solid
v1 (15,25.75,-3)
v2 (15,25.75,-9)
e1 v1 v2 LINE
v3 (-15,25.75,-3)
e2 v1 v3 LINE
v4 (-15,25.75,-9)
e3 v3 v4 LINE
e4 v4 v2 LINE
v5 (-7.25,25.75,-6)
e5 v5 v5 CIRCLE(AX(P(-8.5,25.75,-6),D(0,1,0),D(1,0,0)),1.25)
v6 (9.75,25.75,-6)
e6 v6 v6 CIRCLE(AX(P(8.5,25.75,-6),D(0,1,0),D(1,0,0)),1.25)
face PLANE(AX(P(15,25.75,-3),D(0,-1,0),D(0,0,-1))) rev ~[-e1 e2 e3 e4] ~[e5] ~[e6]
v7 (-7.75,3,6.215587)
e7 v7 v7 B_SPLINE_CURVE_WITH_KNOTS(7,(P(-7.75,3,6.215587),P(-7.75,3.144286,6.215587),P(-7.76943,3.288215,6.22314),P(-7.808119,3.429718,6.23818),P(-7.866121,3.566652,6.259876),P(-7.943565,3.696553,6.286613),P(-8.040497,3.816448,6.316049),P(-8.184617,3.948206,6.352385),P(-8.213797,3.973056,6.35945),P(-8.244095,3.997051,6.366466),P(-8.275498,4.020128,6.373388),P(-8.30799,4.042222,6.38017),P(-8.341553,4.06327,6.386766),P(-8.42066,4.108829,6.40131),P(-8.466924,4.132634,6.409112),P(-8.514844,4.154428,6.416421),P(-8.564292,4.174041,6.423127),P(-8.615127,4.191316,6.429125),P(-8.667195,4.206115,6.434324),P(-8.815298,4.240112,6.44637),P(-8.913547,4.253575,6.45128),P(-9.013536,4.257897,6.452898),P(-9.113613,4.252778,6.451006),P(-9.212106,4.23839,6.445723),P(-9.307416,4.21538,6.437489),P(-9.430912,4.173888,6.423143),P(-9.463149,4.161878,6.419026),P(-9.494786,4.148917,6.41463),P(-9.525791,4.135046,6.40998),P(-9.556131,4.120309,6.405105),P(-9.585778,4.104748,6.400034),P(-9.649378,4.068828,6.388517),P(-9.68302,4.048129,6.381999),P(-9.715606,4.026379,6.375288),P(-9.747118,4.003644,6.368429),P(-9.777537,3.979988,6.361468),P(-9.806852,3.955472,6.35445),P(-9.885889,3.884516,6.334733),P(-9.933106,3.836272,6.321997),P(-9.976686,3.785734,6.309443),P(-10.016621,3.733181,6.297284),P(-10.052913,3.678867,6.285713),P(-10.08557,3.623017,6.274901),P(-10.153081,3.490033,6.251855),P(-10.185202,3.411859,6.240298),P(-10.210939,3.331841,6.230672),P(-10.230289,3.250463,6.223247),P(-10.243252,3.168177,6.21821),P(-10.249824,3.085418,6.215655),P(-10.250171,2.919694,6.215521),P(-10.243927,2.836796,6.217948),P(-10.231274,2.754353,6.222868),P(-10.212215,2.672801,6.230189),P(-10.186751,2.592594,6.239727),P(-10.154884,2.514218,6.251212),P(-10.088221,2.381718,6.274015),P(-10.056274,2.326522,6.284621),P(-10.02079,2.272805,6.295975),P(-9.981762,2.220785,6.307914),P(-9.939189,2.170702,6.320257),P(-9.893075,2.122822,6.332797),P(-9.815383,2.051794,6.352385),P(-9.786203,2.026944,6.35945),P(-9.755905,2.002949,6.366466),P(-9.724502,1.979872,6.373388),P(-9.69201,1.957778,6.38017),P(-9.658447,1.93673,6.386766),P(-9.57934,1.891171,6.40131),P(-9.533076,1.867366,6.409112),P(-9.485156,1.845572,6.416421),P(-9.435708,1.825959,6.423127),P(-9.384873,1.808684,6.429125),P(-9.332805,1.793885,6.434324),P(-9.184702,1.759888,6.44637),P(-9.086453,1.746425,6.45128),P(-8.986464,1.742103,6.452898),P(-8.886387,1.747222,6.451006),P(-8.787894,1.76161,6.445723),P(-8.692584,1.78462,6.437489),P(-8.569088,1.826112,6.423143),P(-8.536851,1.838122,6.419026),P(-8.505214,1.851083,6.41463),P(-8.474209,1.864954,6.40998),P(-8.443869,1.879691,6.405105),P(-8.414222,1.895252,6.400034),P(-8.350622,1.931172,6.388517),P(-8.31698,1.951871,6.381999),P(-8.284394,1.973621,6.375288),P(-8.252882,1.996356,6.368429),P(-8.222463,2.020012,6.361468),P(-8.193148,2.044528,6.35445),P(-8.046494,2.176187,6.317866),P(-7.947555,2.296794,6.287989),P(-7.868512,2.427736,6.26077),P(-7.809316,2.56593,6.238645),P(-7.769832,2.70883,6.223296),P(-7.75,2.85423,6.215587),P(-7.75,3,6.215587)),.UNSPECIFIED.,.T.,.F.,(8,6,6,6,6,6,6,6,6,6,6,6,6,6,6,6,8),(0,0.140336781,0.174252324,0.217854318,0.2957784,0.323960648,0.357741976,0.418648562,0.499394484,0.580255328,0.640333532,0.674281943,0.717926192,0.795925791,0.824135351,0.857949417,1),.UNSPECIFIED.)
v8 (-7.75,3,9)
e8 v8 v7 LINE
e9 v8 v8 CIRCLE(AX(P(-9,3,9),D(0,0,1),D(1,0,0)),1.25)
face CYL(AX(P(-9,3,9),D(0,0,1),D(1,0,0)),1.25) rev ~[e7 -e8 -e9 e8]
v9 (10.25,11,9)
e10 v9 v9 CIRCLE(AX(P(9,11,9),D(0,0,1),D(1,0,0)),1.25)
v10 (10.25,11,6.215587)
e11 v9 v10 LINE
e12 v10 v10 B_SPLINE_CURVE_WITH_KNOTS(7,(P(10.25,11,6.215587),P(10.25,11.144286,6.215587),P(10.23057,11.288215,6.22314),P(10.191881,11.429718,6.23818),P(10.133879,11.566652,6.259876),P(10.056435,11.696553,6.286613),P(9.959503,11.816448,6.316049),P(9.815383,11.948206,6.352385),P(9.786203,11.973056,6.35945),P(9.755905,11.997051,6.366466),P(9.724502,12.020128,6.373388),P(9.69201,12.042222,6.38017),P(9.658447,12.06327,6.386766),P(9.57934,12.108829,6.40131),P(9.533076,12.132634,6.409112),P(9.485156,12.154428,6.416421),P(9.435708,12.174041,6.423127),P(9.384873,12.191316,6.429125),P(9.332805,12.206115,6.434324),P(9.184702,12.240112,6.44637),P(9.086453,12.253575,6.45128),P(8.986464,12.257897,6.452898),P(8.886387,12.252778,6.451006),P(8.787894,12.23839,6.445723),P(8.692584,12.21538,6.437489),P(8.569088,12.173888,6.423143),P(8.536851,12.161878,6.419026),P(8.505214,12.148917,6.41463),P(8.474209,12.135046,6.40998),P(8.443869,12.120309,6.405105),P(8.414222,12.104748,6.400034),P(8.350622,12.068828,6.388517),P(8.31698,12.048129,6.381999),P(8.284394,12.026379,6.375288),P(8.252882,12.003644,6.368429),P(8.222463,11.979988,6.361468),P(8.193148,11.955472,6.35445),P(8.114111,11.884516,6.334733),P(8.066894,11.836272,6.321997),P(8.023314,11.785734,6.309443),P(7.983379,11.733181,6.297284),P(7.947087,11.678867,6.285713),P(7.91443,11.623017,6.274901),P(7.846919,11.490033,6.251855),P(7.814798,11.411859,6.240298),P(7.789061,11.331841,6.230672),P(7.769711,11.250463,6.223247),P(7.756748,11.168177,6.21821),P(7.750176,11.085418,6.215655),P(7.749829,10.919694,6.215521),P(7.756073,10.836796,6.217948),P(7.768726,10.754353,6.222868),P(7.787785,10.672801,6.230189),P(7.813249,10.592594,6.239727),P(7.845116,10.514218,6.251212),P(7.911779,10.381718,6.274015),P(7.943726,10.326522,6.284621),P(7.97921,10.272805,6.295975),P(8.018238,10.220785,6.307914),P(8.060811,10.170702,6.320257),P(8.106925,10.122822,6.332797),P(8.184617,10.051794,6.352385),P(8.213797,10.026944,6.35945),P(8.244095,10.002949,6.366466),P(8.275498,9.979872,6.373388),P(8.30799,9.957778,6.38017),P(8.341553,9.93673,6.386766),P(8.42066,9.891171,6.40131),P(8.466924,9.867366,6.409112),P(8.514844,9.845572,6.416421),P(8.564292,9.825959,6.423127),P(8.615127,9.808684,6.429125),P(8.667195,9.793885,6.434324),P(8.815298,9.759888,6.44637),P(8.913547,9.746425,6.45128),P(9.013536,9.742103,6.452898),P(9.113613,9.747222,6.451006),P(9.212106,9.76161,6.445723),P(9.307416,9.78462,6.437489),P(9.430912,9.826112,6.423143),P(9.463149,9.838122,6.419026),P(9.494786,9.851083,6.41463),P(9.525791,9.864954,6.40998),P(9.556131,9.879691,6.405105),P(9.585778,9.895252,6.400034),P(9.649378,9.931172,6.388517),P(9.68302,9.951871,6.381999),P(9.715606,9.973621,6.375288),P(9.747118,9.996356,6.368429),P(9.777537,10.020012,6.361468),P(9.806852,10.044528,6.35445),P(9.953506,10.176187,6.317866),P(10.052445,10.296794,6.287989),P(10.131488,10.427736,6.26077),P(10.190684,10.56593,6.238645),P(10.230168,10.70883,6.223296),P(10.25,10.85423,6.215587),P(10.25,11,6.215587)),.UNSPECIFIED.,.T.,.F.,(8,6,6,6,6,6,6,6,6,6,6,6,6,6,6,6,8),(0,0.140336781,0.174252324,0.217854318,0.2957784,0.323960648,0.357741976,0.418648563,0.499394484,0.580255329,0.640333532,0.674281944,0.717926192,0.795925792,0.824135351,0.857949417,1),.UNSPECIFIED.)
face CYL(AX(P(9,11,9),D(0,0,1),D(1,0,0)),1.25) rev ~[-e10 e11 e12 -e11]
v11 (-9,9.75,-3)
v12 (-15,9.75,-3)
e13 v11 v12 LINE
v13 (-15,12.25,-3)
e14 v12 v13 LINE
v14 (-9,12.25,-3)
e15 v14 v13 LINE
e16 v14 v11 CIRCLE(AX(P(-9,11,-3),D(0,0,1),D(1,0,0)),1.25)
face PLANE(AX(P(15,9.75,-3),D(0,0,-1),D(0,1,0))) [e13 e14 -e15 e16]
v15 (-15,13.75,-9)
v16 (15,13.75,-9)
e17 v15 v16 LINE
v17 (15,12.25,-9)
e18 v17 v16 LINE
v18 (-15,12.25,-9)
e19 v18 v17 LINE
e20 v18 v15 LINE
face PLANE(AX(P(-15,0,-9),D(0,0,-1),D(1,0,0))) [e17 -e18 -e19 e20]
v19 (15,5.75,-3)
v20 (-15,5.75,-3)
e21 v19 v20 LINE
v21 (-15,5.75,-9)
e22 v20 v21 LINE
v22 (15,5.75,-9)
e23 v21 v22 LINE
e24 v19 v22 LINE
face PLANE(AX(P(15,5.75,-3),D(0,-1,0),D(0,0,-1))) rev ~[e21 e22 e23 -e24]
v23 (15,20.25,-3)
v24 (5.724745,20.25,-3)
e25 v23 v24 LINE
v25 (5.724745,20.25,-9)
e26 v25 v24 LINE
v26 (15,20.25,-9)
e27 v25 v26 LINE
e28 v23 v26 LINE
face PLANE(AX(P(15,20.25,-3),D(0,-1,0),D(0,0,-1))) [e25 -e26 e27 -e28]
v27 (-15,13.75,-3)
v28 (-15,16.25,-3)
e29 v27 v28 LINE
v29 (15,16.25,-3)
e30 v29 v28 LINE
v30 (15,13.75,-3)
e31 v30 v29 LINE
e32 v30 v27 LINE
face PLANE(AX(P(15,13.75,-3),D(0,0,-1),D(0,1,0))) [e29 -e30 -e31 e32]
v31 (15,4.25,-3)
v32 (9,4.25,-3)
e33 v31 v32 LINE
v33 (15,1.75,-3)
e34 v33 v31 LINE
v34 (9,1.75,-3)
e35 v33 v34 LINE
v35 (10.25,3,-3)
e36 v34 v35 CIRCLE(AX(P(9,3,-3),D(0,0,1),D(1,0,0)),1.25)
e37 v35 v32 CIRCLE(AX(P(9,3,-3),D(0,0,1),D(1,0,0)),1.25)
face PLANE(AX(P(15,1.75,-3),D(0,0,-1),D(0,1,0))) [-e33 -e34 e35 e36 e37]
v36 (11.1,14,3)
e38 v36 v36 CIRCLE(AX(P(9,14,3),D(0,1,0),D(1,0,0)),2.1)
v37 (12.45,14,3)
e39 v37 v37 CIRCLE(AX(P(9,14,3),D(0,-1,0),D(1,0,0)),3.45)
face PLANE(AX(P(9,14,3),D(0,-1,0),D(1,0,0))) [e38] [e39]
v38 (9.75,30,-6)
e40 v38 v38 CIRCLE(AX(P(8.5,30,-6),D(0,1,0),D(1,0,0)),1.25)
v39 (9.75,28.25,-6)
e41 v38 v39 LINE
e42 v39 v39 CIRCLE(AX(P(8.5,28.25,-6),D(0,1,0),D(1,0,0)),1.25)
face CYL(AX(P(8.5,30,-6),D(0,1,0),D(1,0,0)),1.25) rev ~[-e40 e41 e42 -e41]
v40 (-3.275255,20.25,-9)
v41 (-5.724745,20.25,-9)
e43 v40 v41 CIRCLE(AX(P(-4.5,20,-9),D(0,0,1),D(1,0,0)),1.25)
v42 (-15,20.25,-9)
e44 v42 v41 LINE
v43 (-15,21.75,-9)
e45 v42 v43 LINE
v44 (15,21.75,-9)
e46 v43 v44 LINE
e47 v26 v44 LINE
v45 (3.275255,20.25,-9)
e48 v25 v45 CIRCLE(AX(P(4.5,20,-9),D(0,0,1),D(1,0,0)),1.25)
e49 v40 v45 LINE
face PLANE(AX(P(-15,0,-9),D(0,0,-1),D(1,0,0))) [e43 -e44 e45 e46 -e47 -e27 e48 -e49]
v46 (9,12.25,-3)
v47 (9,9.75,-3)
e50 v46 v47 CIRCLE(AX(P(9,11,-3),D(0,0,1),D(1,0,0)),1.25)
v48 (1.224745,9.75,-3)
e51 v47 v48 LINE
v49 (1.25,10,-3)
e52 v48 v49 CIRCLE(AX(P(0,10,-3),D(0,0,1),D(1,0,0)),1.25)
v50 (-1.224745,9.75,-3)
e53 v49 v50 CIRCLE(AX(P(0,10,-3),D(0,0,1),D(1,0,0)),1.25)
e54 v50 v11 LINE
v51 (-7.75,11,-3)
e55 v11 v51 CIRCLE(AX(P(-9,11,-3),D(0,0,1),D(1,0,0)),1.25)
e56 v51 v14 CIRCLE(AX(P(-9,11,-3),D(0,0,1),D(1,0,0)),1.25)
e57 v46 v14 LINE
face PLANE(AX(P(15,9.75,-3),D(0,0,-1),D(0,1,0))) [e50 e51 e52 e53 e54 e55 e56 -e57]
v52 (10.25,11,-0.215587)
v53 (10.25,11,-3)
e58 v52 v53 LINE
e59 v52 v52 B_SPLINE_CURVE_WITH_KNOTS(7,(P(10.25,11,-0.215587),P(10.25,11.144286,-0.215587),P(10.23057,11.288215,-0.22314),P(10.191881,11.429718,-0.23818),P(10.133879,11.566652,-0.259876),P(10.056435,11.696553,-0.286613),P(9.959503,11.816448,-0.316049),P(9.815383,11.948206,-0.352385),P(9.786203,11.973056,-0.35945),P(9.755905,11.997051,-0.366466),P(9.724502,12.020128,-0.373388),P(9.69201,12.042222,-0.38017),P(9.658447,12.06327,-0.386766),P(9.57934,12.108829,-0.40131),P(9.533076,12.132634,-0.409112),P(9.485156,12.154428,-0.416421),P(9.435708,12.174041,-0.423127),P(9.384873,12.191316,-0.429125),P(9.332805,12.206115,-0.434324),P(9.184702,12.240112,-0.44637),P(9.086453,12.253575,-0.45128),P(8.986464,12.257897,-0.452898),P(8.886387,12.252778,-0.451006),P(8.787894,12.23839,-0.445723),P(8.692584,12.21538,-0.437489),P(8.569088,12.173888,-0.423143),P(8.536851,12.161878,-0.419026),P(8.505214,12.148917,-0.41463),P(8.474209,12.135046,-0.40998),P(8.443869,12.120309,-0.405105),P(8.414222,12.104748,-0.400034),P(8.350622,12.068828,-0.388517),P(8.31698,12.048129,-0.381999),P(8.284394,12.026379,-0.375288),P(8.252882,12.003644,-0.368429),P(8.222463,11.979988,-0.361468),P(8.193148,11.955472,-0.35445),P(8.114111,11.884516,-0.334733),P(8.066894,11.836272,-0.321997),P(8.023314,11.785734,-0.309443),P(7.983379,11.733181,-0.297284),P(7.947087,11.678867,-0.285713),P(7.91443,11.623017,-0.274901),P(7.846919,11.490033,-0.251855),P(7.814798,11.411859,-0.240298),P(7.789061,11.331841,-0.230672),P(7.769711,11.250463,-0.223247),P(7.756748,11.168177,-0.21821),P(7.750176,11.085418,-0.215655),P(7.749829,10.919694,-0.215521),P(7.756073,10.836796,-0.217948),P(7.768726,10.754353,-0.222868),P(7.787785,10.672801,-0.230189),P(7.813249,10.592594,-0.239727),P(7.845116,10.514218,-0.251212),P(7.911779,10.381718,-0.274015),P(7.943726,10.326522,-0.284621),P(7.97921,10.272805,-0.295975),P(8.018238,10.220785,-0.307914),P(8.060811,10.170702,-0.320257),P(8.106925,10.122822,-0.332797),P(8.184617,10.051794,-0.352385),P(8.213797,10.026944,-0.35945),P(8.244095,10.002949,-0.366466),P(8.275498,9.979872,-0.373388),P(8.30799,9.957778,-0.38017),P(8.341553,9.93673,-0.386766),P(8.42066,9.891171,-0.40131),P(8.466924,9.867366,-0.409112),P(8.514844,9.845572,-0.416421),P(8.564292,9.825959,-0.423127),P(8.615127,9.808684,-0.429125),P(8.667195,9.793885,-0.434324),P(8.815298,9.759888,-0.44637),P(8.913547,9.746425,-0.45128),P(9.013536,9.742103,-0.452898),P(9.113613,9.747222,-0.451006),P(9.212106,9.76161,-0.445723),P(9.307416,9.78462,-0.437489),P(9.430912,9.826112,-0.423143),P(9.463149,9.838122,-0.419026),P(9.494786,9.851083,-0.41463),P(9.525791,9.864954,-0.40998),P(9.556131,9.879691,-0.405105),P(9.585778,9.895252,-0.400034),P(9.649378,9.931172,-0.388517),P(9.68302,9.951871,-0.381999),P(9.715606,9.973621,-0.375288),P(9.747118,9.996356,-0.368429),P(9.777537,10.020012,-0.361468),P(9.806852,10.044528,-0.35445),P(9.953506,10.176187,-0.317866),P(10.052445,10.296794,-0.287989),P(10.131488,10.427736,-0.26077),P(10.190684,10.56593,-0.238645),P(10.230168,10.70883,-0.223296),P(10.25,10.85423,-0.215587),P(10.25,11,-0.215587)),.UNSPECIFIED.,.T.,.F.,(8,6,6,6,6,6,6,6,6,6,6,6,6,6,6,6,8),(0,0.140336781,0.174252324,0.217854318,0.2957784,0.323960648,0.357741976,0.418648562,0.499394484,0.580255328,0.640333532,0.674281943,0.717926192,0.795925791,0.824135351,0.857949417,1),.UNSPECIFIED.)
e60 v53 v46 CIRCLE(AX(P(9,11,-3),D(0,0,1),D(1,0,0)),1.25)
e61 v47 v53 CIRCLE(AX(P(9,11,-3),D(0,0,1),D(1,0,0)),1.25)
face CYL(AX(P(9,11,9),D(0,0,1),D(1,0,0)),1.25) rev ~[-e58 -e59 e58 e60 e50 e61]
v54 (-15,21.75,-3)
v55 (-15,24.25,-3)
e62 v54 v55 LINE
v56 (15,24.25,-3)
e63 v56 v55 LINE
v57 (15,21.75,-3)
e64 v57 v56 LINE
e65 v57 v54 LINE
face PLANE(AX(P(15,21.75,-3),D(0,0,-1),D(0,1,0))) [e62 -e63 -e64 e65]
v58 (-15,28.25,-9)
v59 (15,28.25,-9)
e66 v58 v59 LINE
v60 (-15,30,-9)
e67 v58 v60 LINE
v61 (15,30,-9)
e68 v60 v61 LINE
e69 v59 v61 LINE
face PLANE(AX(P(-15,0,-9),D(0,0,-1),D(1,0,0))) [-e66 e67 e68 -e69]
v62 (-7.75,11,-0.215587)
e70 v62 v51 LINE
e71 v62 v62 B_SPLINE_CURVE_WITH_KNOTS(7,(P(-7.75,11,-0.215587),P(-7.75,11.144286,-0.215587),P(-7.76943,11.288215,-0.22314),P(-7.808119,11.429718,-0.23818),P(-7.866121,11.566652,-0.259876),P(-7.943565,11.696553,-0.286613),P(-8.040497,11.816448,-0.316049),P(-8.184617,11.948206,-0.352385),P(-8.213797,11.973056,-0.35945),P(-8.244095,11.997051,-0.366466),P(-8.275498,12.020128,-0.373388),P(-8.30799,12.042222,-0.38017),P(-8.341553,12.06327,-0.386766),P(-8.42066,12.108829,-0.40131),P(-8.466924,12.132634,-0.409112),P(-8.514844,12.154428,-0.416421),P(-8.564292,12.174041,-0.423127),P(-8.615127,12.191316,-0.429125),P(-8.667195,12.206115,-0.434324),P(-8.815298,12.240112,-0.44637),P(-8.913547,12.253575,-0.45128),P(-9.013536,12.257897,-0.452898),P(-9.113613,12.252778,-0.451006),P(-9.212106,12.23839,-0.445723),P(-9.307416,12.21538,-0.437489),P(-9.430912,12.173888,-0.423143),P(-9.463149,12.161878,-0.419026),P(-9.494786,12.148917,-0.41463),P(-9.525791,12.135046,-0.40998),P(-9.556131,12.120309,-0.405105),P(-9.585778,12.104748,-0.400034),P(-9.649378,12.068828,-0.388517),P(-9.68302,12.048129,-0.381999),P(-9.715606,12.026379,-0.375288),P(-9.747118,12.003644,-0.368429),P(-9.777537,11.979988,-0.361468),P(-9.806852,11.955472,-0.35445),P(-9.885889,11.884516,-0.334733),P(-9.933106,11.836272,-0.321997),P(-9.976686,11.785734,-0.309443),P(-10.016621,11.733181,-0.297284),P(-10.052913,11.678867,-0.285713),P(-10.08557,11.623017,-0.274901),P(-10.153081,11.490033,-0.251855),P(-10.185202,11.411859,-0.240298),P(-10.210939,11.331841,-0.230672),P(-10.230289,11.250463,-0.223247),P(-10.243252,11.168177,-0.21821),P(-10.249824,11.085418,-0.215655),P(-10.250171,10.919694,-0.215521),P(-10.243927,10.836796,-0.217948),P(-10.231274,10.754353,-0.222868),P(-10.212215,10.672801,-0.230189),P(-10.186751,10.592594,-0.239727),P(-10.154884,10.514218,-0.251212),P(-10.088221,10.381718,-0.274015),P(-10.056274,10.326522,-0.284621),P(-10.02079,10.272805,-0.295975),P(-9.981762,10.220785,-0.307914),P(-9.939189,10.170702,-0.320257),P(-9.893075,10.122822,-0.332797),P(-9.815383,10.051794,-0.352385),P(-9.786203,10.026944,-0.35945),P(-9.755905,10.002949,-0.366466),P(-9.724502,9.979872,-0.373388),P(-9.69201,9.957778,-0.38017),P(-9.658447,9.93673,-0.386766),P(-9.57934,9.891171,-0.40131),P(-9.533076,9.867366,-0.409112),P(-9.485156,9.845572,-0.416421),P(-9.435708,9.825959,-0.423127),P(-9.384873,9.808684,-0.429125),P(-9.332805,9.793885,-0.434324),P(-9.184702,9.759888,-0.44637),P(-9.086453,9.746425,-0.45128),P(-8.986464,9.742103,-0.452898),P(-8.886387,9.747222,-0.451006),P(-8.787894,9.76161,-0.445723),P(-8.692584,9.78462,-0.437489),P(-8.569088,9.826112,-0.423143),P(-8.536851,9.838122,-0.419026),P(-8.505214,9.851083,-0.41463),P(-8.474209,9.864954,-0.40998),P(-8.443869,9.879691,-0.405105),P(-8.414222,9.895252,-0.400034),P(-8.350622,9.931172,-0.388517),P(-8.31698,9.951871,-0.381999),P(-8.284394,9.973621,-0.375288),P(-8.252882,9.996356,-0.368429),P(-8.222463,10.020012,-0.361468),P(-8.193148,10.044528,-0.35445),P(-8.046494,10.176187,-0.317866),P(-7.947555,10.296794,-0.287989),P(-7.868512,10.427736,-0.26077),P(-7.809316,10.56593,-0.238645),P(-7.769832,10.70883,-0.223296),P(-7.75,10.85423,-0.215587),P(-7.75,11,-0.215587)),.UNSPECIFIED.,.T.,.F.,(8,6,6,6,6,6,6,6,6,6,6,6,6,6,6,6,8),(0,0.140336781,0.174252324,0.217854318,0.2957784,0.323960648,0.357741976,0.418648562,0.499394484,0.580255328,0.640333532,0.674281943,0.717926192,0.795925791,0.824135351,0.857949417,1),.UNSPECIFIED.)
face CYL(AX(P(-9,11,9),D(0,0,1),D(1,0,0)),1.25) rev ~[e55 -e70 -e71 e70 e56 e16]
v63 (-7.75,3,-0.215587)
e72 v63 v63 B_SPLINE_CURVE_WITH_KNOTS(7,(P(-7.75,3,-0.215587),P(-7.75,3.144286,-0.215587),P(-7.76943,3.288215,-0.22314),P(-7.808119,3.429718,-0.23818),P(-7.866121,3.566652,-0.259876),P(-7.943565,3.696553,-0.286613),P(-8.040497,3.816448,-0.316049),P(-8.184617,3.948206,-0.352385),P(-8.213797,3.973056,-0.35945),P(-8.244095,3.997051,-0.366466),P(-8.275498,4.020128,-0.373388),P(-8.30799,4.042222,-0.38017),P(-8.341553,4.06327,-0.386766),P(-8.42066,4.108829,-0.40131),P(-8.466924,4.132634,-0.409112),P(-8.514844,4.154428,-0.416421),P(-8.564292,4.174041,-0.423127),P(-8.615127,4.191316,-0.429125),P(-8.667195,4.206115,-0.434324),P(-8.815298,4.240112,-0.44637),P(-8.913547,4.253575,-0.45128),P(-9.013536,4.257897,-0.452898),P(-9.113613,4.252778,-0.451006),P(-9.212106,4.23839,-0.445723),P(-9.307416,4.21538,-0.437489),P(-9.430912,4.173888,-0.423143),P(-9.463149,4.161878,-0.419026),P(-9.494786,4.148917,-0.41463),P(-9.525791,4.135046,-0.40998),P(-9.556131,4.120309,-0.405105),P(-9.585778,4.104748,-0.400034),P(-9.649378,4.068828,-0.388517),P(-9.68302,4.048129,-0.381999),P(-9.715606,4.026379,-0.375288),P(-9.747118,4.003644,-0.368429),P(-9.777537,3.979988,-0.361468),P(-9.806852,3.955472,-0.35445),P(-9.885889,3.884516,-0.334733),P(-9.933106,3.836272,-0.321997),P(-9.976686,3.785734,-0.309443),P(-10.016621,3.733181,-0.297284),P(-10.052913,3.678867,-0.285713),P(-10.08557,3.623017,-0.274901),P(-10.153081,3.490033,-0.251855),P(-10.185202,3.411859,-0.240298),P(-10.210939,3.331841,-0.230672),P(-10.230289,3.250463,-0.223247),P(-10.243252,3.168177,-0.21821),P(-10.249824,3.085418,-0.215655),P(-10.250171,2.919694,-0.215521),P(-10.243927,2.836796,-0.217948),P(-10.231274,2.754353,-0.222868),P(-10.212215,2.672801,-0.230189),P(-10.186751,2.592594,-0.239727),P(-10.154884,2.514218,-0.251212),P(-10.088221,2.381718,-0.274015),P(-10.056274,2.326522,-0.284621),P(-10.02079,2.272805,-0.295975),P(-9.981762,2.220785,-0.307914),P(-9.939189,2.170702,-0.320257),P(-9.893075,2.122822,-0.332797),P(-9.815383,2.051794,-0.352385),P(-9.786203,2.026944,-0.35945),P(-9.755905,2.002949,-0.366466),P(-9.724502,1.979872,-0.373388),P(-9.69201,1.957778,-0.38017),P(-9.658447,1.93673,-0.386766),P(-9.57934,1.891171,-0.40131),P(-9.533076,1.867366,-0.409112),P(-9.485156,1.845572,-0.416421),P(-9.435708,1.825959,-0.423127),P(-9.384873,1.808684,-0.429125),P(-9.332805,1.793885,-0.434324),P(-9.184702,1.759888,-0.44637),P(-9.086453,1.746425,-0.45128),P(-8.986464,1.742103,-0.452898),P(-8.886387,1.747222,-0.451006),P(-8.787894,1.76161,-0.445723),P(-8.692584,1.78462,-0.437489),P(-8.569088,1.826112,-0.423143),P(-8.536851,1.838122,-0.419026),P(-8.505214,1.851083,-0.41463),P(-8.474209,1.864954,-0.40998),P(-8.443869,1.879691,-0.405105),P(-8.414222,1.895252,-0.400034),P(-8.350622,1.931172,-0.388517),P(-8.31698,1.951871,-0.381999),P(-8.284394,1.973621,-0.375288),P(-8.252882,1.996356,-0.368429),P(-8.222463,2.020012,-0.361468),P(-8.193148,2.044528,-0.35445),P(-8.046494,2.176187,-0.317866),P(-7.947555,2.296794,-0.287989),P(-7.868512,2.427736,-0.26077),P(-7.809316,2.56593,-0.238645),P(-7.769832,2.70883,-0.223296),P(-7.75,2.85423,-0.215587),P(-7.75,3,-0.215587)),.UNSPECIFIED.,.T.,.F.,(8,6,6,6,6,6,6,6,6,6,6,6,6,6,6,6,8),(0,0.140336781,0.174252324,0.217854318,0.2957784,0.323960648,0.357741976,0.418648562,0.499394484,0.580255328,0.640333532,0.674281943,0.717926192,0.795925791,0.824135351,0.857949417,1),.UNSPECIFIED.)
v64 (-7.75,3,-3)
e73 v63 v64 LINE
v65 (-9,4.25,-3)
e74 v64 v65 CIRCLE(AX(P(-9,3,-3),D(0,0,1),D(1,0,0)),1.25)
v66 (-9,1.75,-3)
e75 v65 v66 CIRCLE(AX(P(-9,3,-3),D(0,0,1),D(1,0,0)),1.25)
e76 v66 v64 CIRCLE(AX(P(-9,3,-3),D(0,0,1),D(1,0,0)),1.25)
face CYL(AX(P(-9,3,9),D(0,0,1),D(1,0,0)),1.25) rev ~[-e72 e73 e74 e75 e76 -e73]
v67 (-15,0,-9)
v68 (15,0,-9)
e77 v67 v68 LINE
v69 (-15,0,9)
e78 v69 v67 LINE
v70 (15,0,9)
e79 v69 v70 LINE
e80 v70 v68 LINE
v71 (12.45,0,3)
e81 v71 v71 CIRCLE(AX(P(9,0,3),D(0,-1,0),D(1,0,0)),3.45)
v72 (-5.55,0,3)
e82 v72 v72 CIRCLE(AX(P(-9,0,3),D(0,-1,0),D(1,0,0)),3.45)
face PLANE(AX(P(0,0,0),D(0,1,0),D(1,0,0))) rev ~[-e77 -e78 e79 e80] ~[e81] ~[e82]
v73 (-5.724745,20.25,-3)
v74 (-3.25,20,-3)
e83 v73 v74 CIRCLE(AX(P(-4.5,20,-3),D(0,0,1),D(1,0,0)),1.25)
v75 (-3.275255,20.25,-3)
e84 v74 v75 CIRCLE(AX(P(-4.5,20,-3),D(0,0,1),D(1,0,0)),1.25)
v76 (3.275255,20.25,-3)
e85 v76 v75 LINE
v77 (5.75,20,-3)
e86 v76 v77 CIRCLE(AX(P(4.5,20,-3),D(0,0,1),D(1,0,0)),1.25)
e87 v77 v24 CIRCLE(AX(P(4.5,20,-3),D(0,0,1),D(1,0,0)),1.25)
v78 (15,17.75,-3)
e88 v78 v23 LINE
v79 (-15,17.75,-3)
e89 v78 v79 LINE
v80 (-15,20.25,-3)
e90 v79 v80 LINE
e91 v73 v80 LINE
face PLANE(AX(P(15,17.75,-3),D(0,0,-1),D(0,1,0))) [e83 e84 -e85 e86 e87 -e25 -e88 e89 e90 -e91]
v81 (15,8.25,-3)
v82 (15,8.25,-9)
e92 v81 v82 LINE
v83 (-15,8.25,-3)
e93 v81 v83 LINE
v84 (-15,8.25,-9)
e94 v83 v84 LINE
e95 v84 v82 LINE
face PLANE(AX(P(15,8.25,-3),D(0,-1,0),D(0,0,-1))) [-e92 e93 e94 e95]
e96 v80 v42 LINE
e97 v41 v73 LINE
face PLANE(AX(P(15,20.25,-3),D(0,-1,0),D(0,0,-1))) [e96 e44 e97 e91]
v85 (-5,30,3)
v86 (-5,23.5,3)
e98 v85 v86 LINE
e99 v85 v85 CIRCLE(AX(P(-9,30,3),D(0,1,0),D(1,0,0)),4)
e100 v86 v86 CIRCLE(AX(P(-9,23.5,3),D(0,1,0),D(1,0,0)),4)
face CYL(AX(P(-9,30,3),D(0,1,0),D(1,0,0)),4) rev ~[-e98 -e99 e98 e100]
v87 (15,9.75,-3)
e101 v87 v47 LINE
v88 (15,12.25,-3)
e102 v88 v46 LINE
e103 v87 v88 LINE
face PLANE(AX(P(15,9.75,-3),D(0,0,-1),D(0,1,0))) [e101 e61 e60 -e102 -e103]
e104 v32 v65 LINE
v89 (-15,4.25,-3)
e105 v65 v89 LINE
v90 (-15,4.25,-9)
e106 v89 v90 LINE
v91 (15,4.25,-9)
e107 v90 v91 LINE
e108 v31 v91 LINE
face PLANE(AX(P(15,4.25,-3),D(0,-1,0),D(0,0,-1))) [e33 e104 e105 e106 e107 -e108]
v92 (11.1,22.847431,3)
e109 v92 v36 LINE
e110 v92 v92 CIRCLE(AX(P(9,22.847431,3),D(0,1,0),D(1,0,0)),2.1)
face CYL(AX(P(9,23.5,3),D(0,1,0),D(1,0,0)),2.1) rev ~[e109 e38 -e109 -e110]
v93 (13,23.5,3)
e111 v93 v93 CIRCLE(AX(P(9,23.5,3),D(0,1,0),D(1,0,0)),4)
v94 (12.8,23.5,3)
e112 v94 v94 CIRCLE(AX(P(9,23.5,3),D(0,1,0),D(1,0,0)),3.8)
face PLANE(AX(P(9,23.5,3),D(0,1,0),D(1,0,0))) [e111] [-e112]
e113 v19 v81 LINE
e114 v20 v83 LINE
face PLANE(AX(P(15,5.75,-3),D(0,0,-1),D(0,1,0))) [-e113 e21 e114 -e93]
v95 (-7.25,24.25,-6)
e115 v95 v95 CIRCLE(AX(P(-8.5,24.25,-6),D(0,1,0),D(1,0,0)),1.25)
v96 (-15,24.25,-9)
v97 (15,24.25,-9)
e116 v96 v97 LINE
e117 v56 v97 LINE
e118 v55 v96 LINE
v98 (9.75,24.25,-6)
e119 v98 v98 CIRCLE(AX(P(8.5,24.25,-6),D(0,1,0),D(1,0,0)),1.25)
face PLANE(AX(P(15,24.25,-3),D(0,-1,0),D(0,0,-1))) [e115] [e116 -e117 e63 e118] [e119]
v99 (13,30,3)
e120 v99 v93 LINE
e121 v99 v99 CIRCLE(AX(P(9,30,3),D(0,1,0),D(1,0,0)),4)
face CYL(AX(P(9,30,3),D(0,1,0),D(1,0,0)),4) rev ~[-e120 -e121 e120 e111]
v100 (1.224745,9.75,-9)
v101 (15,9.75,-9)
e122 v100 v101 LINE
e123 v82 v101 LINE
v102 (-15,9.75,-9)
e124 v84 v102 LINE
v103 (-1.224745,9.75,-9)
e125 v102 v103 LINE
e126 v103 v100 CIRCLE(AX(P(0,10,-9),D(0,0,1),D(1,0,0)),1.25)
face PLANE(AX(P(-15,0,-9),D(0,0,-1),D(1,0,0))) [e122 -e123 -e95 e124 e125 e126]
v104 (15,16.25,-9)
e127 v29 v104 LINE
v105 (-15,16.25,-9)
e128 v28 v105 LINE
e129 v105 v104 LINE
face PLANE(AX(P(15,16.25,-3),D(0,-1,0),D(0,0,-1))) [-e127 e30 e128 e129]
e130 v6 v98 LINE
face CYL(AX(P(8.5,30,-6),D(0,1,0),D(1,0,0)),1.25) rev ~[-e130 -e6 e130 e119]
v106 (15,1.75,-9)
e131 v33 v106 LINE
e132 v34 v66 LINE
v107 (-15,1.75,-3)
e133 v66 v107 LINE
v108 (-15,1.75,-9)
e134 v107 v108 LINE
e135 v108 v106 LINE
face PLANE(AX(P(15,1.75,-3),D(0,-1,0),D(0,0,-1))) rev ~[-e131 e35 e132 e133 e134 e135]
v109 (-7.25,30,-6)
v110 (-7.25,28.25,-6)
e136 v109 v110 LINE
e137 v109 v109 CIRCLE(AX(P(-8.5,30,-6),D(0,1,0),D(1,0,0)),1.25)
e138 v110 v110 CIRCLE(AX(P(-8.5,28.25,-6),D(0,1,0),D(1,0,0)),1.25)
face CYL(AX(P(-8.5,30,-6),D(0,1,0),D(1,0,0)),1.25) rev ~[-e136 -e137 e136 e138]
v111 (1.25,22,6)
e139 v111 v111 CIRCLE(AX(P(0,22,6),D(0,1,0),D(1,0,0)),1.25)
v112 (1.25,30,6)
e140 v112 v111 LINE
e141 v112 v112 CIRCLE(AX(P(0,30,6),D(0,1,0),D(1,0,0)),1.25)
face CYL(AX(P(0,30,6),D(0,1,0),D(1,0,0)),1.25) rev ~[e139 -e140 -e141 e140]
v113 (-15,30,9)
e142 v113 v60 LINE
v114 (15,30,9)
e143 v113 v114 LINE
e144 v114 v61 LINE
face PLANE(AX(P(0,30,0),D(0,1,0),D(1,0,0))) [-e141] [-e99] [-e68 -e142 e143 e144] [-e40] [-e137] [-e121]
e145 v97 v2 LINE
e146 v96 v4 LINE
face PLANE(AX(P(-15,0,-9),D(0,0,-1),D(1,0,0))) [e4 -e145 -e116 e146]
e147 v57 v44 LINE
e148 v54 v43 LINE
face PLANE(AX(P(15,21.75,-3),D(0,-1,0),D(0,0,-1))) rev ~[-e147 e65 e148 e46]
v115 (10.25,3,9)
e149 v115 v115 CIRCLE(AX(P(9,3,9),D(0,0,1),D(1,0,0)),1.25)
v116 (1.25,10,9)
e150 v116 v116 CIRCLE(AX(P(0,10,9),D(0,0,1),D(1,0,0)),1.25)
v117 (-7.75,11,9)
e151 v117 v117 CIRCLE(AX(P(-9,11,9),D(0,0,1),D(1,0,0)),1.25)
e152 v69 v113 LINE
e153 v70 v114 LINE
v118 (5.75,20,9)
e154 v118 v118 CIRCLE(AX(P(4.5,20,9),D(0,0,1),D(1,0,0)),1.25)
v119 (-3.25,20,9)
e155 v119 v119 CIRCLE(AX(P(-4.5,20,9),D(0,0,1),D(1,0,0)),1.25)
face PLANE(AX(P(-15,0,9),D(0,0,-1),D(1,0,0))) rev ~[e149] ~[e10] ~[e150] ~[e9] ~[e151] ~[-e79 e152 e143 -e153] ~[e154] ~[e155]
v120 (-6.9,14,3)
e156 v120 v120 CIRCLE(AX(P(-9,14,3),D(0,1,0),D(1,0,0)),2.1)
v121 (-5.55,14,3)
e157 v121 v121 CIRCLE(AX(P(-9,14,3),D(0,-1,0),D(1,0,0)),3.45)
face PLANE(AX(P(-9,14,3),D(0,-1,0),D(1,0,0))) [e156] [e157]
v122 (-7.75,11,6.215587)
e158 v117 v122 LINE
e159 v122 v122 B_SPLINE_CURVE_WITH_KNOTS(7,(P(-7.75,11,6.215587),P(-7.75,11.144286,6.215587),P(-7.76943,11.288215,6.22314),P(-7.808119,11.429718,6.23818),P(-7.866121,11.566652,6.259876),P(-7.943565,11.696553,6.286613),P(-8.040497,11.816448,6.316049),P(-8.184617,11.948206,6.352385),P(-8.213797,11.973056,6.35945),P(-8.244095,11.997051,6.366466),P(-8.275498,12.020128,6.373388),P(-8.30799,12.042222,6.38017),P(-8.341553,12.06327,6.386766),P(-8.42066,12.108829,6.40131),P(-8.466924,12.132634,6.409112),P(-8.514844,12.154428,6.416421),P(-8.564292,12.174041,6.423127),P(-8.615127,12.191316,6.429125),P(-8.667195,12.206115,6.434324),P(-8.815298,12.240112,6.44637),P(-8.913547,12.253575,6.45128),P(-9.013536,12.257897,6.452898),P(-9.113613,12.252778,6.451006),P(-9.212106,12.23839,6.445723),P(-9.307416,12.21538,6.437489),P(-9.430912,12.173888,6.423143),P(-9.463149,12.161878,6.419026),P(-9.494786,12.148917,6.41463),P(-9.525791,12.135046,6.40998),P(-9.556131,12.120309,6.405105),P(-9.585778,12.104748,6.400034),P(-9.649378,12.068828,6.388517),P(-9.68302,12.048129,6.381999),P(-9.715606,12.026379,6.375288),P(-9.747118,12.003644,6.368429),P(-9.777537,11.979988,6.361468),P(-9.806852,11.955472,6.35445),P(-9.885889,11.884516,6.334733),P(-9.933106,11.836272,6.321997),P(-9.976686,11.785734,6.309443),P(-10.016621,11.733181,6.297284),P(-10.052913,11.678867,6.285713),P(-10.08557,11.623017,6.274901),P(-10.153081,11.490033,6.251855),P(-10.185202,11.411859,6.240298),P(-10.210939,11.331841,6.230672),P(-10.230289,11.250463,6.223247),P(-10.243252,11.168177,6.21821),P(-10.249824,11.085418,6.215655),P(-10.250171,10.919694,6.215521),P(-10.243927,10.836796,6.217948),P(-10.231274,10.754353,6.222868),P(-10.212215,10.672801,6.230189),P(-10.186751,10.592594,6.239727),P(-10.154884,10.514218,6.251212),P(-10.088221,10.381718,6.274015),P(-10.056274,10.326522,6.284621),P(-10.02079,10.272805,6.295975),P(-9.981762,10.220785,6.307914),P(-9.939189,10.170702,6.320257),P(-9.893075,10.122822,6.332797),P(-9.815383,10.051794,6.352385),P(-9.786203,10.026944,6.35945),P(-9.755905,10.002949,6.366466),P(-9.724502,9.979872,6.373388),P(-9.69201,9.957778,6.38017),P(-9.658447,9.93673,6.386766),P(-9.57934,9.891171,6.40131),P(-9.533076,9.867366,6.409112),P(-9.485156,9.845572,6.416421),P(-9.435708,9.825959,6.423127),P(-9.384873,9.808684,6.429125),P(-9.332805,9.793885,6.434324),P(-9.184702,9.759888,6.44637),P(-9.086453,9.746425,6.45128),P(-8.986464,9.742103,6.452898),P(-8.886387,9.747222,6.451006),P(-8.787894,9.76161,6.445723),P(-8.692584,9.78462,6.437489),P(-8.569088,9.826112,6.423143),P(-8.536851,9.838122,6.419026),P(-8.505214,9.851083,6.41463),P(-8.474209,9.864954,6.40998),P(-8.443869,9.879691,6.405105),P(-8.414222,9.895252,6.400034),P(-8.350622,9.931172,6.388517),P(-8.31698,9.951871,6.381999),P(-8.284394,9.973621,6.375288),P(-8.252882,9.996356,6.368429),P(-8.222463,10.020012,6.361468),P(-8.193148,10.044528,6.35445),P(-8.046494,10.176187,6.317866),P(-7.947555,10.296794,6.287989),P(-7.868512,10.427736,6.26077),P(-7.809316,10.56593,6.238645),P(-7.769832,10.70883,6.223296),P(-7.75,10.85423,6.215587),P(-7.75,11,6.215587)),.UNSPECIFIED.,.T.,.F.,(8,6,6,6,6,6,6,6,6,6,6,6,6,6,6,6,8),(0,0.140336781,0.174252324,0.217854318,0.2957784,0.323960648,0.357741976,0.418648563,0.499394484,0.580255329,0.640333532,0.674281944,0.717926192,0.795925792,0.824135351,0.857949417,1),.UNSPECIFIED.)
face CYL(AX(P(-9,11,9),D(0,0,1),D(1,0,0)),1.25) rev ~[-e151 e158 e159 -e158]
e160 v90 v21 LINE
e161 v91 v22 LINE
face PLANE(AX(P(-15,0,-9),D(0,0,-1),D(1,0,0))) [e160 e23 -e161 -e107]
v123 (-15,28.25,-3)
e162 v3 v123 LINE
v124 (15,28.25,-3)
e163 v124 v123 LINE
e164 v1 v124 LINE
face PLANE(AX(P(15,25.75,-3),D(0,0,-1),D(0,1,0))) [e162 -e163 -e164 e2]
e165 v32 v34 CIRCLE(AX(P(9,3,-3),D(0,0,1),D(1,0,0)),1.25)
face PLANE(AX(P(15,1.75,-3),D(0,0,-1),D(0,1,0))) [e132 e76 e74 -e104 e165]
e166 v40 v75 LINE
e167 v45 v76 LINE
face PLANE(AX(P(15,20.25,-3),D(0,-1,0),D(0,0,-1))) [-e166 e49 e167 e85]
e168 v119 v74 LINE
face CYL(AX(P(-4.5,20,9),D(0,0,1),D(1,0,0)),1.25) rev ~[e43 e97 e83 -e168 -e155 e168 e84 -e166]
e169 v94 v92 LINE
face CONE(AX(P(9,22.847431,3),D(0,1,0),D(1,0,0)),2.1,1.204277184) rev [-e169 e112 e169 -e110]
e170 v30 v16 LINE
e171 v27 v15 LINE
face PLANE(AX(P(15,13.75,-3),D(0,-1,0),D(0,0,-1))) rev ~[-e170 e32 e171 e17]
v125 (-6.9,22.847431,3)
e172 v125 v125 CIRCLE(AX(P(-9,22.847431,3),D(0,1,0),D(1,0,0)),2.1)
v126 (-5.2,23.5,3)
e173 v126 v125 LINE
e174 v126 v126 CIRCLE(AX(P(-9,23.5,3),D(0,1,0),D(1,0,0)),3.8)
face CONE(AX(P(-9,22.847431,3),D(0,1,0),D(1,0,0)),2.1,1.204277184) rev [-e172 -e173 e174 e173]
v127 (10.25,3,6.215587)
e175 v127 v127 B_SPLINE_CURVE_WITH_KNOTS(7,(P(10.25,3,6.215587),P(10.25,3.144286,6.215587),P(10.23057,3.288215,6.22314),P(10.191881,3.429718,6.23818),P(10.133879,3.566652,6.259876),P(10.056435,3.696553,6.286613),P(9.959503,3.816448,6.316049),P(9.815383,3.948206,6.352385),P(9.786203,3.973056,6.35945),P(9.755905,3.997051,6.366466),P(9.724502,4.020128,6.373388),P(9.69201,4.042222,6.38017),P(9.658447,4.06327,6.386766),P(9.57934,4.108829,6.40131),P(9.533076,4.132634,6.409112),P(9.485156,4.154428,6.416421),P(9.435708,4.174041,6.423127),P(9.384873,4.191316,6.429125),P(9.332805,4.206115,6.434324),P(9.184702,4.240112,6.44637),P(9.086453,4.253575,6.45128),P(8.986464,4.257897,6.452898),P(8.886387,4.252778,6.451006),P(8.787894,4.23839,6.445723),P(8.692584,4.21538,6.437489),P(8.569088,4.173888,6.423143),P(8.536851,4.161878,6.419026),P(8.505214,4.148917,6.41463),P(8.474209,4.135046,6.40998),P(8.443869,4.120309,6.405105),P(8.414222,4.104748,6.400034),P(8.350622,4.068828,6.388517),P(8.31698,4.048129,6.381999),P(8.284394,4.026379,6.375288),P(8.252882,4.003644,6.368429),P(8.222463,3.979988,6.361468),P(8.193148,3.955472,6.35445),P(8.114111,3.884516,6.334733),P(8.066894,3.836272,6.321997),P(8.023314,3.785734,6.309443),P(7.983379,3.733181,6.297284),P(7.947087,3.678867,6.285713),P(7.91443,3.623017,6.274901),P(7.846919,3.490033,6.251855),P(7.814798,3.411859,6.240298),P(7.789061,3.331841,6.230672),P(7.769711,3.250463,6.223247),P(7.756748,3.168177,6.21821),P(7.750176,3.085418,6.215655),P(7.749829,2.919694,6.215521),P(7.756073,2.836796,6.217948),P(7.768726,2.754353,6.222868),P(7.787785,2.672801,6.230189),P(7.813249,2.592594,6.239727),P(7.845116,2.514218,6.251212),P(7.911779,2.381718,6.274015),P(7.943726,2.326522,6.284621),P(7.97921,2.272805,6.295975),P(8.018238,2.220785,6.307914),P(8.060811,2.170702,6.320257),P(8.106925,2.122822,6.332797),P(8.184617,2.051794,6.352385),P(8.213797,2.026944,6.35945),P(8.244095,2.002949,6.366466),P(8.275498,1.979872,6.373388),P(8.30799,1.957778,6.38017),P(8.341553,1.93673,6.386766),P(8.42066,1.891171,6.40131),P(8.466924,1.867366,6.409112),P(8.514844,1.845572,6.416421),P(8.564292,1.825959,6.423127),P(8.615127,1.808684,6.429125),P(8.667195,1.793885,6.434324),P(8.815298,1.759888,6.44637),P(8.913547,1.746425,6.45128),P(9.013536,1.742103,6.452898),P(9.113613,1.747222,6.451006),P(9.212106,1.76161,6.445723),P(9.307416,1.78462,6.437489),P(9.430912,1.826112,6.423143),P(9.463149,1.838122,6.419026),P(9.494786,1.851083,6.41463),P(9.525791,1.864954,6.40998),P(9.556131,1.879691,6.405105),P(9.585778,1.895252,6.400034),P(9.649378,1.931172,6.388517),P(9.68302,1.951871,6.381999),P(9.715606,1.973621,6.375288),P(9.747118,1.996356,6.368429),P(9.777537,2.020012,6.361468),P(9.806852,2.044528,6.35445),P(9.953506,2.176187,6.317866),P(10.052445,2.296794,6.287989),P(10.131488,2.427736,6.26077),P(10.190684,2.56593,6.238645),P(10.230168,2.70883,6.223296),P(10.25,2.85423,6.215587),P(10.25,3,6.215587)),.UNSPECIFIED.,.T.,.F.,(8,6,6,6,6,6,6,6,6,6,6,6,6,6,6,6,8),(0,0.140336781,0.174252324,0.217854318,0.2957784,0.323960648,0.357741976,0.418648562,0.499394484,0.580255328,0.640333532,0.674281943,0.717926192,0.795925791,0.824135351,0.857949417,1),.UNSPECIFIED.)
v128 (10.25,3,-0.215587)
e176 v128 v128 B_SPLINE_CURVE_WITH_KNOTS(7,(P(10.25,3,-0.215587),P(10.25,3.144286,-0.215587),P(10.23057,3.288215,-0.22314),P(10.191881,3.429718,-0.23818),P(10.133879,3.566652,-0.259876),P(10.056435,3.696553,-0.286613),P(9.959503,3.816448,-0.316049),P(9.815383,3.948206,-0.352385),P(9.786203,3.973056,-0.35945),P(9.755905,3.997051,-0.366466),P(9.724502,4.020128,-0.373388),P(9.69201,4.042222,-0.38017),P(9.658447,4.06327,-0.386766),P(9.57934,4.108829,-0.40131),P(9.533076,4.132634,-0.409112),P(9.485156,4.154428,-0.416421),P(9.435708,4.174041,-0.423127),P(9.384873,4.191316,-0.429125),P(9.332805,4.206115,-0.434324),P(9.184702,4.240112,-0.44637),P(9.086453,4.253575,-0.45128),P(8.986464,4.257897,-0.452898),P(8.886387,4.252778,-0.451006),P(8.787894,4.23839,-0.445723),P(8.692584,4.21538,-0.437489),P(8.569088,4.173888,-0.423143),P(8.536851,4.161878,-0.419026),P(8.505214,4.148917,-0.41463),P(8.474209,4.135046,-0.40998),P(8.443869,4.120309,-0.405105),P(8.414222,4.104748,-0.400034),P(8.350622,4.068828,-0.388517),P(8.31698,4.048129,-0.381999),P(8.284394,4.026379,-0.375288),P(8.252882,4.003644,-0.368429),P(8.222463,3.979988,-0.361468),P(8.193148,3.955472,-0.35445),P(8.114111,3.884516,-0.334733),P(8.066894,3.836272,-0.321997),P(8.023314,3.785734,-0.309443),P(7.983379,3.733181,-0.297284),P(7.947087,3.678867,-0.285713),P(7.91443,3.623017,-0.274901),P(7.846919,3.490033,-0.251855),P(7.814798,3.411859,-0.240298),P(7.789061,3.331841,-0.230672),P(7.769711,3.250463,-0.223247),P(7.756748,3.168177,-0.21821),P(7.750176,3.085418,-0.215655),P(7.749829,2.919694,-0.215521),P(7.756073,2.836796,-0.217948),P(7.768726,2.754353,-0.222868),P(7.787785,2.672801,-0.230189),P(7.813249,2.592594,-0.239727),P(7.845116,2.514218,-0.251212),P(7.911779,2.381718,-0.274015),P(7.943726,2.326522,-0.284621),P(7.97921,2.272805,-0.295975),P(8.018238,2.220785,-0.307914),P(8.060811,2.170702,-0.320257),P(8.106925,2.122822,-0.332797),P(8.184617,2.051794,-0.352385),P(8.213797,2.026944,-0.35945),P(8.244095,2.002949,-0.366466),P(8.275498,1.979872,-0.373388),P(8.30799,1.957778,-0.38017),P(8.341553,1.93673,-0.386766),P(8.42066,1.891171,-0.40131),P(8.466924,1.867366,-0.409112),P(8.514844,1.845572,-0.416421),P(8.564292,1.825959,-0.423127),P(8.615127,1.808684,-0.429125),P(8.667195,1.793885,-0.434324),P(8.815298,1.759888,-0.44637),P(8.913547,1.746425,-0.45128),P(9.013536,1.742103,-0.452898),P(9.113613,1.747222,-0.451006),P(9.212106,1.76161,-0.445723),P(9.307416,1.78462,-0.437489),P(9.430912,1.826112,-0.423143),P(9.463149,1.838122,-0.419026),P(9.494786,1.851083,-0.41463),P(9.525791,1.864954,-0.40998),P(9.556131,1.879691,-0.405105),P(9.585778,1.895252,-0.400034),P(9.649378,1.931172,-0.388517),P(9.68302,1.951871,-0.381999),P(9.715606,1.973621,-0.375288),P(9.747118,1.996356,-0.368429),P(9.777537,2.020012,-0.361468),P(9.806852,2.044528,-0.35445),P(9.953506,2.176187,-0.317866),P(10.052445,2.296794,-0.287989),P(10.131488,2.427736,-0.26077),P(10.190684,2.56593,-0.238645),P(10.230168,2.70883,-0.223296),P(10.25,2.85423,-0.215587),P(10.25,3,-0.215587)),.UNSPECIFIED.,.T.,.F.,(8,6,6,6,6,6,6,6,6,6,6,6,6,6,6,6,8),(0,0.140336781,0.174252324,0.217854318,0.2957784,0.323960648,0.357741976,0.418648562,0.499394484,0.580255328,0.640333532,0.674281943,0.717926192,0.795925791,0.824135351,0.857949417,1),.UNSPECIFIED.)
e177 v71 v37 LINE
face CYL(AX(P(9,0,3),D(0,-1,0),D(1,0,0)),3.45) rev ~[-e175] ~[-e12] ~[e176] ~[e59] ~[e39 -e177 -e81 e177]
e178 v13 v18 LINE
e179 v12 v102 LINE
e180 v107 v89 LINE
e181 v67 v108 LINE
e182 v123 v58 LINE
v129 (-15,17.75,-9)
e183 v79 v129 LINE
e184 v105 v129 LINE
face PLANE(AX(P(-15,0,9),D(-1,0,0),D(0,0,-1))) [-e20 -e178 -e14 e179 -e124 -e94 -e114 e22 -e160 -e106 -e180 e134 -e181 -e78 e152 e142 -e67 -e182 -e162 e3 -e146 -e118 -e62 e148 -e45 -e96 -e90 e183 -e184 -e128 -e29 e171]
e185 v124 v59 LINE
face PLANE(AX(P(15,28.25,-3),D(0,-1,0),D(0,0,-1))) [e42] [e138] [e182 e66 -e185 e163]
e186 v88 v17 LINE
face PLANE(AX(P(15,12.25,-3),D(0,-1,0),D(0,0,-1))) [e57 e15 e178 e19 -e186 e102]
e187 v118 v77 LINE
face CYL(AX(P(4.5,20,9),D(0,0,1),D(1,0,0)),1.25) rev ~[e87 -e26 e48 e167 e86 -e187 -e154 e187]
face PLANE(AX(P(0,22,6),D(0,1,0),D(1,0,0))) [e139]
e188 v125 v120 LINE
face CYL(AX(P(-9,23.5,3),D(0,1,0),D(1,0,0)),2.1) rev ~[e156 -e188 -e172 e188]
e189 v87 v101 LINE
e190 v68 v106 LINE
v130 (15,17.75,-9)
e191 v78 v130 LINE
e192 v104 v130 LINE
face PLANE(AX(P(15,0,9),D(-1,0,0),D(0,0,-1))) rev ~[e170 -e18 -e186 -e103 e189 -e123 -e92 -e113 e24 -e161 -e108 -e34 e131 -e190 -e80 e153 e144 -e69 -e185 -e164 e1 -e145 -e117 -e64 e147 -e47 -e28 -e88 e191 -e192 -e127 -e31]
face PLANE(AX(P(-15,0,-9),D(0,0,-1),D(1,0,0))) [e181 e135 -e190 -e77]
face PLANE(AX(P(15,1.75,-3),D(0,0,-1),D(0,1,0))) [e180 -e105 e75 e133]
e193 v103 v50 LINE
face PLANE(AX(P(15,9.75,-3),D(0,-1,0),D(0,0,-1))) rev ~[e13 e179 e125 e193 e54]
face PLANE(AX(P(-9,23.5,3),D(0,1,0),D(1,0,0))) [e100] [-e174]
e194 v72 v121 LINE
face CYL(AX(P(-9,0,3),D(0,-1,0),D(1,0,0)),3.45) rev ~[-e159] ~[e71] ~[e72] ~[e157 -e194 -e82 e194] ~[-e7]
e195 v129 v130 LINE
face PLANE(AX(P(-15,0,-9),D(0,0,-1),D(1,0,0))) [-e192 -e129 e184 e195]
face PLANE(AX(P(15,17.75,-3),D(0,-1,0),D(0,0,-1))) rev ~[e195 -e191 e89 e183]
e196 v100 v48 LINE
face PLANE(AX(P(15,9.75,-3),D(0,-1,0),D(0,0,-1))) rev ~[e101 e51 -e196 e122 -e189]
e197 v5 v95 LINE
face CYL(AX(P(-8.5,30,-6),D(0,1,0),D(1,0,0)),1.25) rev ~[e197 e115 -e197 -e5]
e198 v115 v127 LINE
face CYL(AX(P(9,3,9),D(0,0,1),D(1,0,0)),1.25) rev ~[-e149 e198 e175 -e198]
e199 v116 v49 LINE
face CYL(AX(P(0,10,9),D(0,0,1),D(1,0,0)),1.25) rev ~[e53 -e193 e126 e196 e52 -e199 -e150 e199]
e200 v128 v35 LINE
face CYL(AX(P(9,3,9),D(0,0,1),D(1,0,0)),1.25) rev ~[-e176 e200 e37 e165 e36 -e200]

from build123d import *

# Parameters (mm, degrees)
SKETCH1_W             = 30
SKETCH1_H             = 18
BOSS_EXTRUDE1_DEPTH   = 30
SKETCH2_R             = 1.25
CUT_EXTRUDE1_DEPTH    = 8
SKETCH3_R             = 4
CUT_EXTRUDE2_DEPTH    = 6.5
SKETCH4_R             = 2.1
CUT_EXTRUDE3_DEPTH    = 24.5
CUT_EXTRUDE4_REACH    = 32
SKETCH5_W             = 12
SKETCH5_H             = 2.5
SKETCH6_R             = 3.45
CUT_EXTRUDE5_DEPTH    = 14
SKETCH7_R             = 1.25
CUT_EXTRUDE6_DEPTH    = 19
CHAMFER1_SIZE         = 1.7
CHAMFER1_SIZE2        = 0.65256886
CHAMFER1_PART_2_SIZE  = 1.7
CHAMFER1_PART_2_SIZE2 = 0.65256886


with BuildPart() as part:
    # Sketch1 → Boss-Extrude1 (new body)
    with BuildSketch(Plane(origin=(0, 0, 0), x_dir=(1, 0, 0), z_dir=(0, 1, 0))):
        Rectangle(SKETCH1_W, SKETCH1_H)
    extrude(amount=BOSS_EXTRUDE1_DEPTH)

    # Sketch2 → Cut-Extrude1 (cut)
    with BuildSketch(Plane(origin=(0, 30, 0), x_dir=(1, 0, 0), z_dir=(0, 1, 0))):
        with Locations((0, -6)):
            Circle(SKETCH2_R)
        with Locations((-8.5, 6)):
            Circle(SKETCH2_R)
        with Locations((8.5, 6)):
            Circle(SKETCH2_R)
    extrude(amount=-CUT_EXTRUDE1_DEPTH, mode=Mode.SUBTRACT)

    # Sketch3 → Cut-Extrude2 (cut)
    with BuildSketch(Plane(origin=(0, 30, 0), x_dir=(1, 0, 0), z_dir=(0, 1, 0))):
        with Locations((-9, -3)):
            Circle(SKETCH3_R)
        with Locations((9, -3)):
            Circle(SKETCH3_R)
    extrude(amount=-CUT_EXTRUDE2_DEPTH, mode=Mode.SUBTRACT)

    # Sketch4 → Cut-Extrude3 (cut, through all)
    with BuildSketch(Plane(origin=(0, 23.5, 0), x_dir=(1, 0, 0), z_dir=(0, 1, 0))):
        with Locations((9, -3)):
            Circle(SKETCH4_R)
        with Locations((-9, -3)):
            Circle(SKETCH4_R)
    extrude(amount=-CUT_EXTRUDE3_DEPTH, mode=Mode.SUBTRACT)

    # Sketch5 → Cut-Extrude4 (cut, up to next)
    with BuildSketch(Plane(origin=(15, 0, 0), x_dir=(0, 0, -1), z_dir=(1, 0, 0)), mode=Mode.PRIVATE) as cut_extrude4_sk1:
        with Locations((9, 7)):
            Rectangle(SKETCH5_W, SKETCH5_H)
    cut_extrude4_tool1 = extrude(cut_extrude4_sk1.sketch, amount=-CUT_EXTRUDE4_REACH, mode=Mode.PRIVATE) & part.part
    add(cut_extrude4_tool1.solids().sort_by_distance((15, 7, -9))[0], mode=Mode.SUBTRACT)
    # Sketch5 → Cut-Extrude4 (cut, up to next)
    with BuildSketch(Plane(origin=(15, 0, 0), x_dir=(0, 0, -1), z_dir=(1, 0, 0)), mode=Mode.PRIVATE) as cut_extrude4_sk2:
        with Locations((9, 11)):
            Rectangle(SKETCH5_W, SKETCH5_H)
    cut_extrude4_tool2 = extrude(cut_extrude4_sk2.sketch, amount=-CUT_EXTRUDE4_REACH, mode=Mode.PRIVATE) & part.part
    add(cut_extrude4_tool2.solids().sort_by_distance((15, 11, -9))[0], mode=Mode.SUBTRACT)
    # Sketch5 → Cut-Extrude4 (cut, up to next)
    with BuildSketch(Plane(origin=(15, 0, 0), x_dir=(0, 0, -1), z_dir=(1, 0, 0)), mode=Mode.PRIVATE) as cut_extrude4_sk3:
        with Locations((9, 15)):
            Rectangle(SKETCH5_W, SKETCH5_H)
    cut_extrude4_tool3 = extrude(cut_extrude4_sk3.sketch, amount=-CUT_EXTRUDE4_REACH, mode=Mode.PRIVATE) & part.part
    add(cut_extrude4_tool3.solids().sort_by_distance((15, 15, -9))[0], mode=Mode.SUBTRACT)
    # Sketch5 → Cut-Extrude4 (cut, up to next)
    with BuildSketch(Plane(origin=(15, 0, 0), x_dir=(0, 0, -1), z_dir=(1, 0, 0)), mode=Mode.PRIVATE) as cut_extrude4_sk4:
        with Locations((9, 19)):
            Rectangle(SKETCH5_W, SKETCH5_H)
    cut_extrude4_tool4 = extrude(cut_extrude4_sk4.sketch, amount=-CUT_EXTRUDE4_REACH, mode=Mode.PRIVATE) & part.part
    add(cut_extrude4_tool4.solids().sort_by_distance((15, 19, -9))[0], mode=Mode.SUBTRACT)
    # Sketch5 → Cut-Extrude4 (cut, up to next)
    with BuildSketch(Plane(origin=(15, 0, 0), x_dir=(0, 0, -1), z_dir=(1, 0, 0)), mode=Mode.PRIVATE) as cut_extrude4_sk5:
        with Locations((9, 23)):
            Rectangle(SKETCH5_W, SKETCH5_H)
    cut_extrude4_tool5 = extrude(cut_extrude4_sk5.sketch, amount=-CUT_EXTRUDE4_REACH, mode=Mode.PRIVATE) & part.part
    add(cut_extrude4_tool5.solids().sort_by_distance((15, 23, -9))[0], mode=Mode.SUBTRACT)
    # Sketch5 → Cut-Extrude4 (cut, up to next)
    with BuildSketch(Plane(origin=(15, 0, 0), x_dir=(0, 0, -1), z_dir=(1, 0, 0)), mode=Mode.PRIVATE) as cut_extrude4_sk6:
        with Locations((9, 27)):
            Rectangle(SKETCH5_W, SKETCH5_H)
    cut_extrude4_tool6 = extrude(cut_extrude4_sk6.sketch, amount=-CUT_EXTRUDE4_REACH, mode=Mode.PRIVATE) & part.part
    add(cut_extrude4_tool6.solids().sort_by_distance((15, 27, -9))[0], mode=Mode.SUBTRACT)
    # Sketch5 → Cut-Extrude4 (cut, up to next)
    with BuildSketch(Plane(origin=(15, 0, 0), x_dir=(0, 0, -1), z_dir=(1, 0, 0)), mode=Mode.PRIVATE) as cut_extrude4_sk7:
        with Locations((9, 3)):
            Rectangle(SKETCH5_W, SKETCH5_H)
    cut_extrude4_tool7 = extrude(cut_extrude4_sk7.sketch, amount=-CUT_EXTRUDE4_REACH, mode=Mode.PRIVATE) & part.part
    add(cut_extrude4_tool7.solids().sort_by_distance((15, 3, -9))[0], mode=Mode.SUBTRACT)

    # Sketch6 → Cut-Extrude5 (cut)
    with BuildSketch(Plane.XZ):
        with Locations((9, 3)):
            Circle(SKETCH6_R)
        with Locations((-9, 3)):
            Circle(SKETCH6_R)
    extrude(amount=-CUT_EXTRUDE5_DEPTH, mode=Mode.SUBTRACT)

    # Sketch7 → Cut-Extrude6 (cut, through all)
    with BuildSketch(Plane.XY.offset(9)):
        with Locations((-4.5, 20)):
            Circle(SKETCH7_R)
        with Locations((4.5, 20)):
            Circle(SKETCH7_R)
        with Locations((-9, 11)):
            Circle(SKETCH7_R)
        with Locations((-9, 3)):
            Circle(SKETCH7_R)
        with Locations((9, 11)):
            Circle(SKETCH7_R)
        with Locations((9, 3)):
            Circle(SKETCH7_R)
        with Locations((0, 10)):
            Circle(SKETCH7_R)
    extrude(amount=-CUT_EXTRUDE6_DEPTH, mode=Mode.SUBTRACT)

    # Chamfer1
    chamfer1_edges = [part.edges().sort_by_distance(p)[0] for p in [
        (6.9, 23.5, 3),
    ]]
    chamfer1_side = [part.faces().sort_by_distance(p)[0] for p in [
        (5.113137085, 23.5, 3),
    ]]
    chamfer(chamfer1_edges, length=CHAMFER1_SIZE, length2=CHAMFER1_SIZE2, reference=chamfer1_side[0])

    # Chamfer1 part 2
    chamfer1_part_2_edges = [part.edges().sort_by_distance(p)[0] for p in [
        (-11.1, 23.5, 3),
    ]]
    chamfer1_part_2_side = [part.faces().sort_by_distance(p)[0] for p in [
        (-12.886862915, 23.5, 3),
    ]]
    chamfer(chamfer1_part_2_edges, length=CHAMFER1_PART_2_SIZE, length2=CHAMFER1_PART_2_SIZE2, reference=chamfer1_part_2_side[0])


solid = part.part
